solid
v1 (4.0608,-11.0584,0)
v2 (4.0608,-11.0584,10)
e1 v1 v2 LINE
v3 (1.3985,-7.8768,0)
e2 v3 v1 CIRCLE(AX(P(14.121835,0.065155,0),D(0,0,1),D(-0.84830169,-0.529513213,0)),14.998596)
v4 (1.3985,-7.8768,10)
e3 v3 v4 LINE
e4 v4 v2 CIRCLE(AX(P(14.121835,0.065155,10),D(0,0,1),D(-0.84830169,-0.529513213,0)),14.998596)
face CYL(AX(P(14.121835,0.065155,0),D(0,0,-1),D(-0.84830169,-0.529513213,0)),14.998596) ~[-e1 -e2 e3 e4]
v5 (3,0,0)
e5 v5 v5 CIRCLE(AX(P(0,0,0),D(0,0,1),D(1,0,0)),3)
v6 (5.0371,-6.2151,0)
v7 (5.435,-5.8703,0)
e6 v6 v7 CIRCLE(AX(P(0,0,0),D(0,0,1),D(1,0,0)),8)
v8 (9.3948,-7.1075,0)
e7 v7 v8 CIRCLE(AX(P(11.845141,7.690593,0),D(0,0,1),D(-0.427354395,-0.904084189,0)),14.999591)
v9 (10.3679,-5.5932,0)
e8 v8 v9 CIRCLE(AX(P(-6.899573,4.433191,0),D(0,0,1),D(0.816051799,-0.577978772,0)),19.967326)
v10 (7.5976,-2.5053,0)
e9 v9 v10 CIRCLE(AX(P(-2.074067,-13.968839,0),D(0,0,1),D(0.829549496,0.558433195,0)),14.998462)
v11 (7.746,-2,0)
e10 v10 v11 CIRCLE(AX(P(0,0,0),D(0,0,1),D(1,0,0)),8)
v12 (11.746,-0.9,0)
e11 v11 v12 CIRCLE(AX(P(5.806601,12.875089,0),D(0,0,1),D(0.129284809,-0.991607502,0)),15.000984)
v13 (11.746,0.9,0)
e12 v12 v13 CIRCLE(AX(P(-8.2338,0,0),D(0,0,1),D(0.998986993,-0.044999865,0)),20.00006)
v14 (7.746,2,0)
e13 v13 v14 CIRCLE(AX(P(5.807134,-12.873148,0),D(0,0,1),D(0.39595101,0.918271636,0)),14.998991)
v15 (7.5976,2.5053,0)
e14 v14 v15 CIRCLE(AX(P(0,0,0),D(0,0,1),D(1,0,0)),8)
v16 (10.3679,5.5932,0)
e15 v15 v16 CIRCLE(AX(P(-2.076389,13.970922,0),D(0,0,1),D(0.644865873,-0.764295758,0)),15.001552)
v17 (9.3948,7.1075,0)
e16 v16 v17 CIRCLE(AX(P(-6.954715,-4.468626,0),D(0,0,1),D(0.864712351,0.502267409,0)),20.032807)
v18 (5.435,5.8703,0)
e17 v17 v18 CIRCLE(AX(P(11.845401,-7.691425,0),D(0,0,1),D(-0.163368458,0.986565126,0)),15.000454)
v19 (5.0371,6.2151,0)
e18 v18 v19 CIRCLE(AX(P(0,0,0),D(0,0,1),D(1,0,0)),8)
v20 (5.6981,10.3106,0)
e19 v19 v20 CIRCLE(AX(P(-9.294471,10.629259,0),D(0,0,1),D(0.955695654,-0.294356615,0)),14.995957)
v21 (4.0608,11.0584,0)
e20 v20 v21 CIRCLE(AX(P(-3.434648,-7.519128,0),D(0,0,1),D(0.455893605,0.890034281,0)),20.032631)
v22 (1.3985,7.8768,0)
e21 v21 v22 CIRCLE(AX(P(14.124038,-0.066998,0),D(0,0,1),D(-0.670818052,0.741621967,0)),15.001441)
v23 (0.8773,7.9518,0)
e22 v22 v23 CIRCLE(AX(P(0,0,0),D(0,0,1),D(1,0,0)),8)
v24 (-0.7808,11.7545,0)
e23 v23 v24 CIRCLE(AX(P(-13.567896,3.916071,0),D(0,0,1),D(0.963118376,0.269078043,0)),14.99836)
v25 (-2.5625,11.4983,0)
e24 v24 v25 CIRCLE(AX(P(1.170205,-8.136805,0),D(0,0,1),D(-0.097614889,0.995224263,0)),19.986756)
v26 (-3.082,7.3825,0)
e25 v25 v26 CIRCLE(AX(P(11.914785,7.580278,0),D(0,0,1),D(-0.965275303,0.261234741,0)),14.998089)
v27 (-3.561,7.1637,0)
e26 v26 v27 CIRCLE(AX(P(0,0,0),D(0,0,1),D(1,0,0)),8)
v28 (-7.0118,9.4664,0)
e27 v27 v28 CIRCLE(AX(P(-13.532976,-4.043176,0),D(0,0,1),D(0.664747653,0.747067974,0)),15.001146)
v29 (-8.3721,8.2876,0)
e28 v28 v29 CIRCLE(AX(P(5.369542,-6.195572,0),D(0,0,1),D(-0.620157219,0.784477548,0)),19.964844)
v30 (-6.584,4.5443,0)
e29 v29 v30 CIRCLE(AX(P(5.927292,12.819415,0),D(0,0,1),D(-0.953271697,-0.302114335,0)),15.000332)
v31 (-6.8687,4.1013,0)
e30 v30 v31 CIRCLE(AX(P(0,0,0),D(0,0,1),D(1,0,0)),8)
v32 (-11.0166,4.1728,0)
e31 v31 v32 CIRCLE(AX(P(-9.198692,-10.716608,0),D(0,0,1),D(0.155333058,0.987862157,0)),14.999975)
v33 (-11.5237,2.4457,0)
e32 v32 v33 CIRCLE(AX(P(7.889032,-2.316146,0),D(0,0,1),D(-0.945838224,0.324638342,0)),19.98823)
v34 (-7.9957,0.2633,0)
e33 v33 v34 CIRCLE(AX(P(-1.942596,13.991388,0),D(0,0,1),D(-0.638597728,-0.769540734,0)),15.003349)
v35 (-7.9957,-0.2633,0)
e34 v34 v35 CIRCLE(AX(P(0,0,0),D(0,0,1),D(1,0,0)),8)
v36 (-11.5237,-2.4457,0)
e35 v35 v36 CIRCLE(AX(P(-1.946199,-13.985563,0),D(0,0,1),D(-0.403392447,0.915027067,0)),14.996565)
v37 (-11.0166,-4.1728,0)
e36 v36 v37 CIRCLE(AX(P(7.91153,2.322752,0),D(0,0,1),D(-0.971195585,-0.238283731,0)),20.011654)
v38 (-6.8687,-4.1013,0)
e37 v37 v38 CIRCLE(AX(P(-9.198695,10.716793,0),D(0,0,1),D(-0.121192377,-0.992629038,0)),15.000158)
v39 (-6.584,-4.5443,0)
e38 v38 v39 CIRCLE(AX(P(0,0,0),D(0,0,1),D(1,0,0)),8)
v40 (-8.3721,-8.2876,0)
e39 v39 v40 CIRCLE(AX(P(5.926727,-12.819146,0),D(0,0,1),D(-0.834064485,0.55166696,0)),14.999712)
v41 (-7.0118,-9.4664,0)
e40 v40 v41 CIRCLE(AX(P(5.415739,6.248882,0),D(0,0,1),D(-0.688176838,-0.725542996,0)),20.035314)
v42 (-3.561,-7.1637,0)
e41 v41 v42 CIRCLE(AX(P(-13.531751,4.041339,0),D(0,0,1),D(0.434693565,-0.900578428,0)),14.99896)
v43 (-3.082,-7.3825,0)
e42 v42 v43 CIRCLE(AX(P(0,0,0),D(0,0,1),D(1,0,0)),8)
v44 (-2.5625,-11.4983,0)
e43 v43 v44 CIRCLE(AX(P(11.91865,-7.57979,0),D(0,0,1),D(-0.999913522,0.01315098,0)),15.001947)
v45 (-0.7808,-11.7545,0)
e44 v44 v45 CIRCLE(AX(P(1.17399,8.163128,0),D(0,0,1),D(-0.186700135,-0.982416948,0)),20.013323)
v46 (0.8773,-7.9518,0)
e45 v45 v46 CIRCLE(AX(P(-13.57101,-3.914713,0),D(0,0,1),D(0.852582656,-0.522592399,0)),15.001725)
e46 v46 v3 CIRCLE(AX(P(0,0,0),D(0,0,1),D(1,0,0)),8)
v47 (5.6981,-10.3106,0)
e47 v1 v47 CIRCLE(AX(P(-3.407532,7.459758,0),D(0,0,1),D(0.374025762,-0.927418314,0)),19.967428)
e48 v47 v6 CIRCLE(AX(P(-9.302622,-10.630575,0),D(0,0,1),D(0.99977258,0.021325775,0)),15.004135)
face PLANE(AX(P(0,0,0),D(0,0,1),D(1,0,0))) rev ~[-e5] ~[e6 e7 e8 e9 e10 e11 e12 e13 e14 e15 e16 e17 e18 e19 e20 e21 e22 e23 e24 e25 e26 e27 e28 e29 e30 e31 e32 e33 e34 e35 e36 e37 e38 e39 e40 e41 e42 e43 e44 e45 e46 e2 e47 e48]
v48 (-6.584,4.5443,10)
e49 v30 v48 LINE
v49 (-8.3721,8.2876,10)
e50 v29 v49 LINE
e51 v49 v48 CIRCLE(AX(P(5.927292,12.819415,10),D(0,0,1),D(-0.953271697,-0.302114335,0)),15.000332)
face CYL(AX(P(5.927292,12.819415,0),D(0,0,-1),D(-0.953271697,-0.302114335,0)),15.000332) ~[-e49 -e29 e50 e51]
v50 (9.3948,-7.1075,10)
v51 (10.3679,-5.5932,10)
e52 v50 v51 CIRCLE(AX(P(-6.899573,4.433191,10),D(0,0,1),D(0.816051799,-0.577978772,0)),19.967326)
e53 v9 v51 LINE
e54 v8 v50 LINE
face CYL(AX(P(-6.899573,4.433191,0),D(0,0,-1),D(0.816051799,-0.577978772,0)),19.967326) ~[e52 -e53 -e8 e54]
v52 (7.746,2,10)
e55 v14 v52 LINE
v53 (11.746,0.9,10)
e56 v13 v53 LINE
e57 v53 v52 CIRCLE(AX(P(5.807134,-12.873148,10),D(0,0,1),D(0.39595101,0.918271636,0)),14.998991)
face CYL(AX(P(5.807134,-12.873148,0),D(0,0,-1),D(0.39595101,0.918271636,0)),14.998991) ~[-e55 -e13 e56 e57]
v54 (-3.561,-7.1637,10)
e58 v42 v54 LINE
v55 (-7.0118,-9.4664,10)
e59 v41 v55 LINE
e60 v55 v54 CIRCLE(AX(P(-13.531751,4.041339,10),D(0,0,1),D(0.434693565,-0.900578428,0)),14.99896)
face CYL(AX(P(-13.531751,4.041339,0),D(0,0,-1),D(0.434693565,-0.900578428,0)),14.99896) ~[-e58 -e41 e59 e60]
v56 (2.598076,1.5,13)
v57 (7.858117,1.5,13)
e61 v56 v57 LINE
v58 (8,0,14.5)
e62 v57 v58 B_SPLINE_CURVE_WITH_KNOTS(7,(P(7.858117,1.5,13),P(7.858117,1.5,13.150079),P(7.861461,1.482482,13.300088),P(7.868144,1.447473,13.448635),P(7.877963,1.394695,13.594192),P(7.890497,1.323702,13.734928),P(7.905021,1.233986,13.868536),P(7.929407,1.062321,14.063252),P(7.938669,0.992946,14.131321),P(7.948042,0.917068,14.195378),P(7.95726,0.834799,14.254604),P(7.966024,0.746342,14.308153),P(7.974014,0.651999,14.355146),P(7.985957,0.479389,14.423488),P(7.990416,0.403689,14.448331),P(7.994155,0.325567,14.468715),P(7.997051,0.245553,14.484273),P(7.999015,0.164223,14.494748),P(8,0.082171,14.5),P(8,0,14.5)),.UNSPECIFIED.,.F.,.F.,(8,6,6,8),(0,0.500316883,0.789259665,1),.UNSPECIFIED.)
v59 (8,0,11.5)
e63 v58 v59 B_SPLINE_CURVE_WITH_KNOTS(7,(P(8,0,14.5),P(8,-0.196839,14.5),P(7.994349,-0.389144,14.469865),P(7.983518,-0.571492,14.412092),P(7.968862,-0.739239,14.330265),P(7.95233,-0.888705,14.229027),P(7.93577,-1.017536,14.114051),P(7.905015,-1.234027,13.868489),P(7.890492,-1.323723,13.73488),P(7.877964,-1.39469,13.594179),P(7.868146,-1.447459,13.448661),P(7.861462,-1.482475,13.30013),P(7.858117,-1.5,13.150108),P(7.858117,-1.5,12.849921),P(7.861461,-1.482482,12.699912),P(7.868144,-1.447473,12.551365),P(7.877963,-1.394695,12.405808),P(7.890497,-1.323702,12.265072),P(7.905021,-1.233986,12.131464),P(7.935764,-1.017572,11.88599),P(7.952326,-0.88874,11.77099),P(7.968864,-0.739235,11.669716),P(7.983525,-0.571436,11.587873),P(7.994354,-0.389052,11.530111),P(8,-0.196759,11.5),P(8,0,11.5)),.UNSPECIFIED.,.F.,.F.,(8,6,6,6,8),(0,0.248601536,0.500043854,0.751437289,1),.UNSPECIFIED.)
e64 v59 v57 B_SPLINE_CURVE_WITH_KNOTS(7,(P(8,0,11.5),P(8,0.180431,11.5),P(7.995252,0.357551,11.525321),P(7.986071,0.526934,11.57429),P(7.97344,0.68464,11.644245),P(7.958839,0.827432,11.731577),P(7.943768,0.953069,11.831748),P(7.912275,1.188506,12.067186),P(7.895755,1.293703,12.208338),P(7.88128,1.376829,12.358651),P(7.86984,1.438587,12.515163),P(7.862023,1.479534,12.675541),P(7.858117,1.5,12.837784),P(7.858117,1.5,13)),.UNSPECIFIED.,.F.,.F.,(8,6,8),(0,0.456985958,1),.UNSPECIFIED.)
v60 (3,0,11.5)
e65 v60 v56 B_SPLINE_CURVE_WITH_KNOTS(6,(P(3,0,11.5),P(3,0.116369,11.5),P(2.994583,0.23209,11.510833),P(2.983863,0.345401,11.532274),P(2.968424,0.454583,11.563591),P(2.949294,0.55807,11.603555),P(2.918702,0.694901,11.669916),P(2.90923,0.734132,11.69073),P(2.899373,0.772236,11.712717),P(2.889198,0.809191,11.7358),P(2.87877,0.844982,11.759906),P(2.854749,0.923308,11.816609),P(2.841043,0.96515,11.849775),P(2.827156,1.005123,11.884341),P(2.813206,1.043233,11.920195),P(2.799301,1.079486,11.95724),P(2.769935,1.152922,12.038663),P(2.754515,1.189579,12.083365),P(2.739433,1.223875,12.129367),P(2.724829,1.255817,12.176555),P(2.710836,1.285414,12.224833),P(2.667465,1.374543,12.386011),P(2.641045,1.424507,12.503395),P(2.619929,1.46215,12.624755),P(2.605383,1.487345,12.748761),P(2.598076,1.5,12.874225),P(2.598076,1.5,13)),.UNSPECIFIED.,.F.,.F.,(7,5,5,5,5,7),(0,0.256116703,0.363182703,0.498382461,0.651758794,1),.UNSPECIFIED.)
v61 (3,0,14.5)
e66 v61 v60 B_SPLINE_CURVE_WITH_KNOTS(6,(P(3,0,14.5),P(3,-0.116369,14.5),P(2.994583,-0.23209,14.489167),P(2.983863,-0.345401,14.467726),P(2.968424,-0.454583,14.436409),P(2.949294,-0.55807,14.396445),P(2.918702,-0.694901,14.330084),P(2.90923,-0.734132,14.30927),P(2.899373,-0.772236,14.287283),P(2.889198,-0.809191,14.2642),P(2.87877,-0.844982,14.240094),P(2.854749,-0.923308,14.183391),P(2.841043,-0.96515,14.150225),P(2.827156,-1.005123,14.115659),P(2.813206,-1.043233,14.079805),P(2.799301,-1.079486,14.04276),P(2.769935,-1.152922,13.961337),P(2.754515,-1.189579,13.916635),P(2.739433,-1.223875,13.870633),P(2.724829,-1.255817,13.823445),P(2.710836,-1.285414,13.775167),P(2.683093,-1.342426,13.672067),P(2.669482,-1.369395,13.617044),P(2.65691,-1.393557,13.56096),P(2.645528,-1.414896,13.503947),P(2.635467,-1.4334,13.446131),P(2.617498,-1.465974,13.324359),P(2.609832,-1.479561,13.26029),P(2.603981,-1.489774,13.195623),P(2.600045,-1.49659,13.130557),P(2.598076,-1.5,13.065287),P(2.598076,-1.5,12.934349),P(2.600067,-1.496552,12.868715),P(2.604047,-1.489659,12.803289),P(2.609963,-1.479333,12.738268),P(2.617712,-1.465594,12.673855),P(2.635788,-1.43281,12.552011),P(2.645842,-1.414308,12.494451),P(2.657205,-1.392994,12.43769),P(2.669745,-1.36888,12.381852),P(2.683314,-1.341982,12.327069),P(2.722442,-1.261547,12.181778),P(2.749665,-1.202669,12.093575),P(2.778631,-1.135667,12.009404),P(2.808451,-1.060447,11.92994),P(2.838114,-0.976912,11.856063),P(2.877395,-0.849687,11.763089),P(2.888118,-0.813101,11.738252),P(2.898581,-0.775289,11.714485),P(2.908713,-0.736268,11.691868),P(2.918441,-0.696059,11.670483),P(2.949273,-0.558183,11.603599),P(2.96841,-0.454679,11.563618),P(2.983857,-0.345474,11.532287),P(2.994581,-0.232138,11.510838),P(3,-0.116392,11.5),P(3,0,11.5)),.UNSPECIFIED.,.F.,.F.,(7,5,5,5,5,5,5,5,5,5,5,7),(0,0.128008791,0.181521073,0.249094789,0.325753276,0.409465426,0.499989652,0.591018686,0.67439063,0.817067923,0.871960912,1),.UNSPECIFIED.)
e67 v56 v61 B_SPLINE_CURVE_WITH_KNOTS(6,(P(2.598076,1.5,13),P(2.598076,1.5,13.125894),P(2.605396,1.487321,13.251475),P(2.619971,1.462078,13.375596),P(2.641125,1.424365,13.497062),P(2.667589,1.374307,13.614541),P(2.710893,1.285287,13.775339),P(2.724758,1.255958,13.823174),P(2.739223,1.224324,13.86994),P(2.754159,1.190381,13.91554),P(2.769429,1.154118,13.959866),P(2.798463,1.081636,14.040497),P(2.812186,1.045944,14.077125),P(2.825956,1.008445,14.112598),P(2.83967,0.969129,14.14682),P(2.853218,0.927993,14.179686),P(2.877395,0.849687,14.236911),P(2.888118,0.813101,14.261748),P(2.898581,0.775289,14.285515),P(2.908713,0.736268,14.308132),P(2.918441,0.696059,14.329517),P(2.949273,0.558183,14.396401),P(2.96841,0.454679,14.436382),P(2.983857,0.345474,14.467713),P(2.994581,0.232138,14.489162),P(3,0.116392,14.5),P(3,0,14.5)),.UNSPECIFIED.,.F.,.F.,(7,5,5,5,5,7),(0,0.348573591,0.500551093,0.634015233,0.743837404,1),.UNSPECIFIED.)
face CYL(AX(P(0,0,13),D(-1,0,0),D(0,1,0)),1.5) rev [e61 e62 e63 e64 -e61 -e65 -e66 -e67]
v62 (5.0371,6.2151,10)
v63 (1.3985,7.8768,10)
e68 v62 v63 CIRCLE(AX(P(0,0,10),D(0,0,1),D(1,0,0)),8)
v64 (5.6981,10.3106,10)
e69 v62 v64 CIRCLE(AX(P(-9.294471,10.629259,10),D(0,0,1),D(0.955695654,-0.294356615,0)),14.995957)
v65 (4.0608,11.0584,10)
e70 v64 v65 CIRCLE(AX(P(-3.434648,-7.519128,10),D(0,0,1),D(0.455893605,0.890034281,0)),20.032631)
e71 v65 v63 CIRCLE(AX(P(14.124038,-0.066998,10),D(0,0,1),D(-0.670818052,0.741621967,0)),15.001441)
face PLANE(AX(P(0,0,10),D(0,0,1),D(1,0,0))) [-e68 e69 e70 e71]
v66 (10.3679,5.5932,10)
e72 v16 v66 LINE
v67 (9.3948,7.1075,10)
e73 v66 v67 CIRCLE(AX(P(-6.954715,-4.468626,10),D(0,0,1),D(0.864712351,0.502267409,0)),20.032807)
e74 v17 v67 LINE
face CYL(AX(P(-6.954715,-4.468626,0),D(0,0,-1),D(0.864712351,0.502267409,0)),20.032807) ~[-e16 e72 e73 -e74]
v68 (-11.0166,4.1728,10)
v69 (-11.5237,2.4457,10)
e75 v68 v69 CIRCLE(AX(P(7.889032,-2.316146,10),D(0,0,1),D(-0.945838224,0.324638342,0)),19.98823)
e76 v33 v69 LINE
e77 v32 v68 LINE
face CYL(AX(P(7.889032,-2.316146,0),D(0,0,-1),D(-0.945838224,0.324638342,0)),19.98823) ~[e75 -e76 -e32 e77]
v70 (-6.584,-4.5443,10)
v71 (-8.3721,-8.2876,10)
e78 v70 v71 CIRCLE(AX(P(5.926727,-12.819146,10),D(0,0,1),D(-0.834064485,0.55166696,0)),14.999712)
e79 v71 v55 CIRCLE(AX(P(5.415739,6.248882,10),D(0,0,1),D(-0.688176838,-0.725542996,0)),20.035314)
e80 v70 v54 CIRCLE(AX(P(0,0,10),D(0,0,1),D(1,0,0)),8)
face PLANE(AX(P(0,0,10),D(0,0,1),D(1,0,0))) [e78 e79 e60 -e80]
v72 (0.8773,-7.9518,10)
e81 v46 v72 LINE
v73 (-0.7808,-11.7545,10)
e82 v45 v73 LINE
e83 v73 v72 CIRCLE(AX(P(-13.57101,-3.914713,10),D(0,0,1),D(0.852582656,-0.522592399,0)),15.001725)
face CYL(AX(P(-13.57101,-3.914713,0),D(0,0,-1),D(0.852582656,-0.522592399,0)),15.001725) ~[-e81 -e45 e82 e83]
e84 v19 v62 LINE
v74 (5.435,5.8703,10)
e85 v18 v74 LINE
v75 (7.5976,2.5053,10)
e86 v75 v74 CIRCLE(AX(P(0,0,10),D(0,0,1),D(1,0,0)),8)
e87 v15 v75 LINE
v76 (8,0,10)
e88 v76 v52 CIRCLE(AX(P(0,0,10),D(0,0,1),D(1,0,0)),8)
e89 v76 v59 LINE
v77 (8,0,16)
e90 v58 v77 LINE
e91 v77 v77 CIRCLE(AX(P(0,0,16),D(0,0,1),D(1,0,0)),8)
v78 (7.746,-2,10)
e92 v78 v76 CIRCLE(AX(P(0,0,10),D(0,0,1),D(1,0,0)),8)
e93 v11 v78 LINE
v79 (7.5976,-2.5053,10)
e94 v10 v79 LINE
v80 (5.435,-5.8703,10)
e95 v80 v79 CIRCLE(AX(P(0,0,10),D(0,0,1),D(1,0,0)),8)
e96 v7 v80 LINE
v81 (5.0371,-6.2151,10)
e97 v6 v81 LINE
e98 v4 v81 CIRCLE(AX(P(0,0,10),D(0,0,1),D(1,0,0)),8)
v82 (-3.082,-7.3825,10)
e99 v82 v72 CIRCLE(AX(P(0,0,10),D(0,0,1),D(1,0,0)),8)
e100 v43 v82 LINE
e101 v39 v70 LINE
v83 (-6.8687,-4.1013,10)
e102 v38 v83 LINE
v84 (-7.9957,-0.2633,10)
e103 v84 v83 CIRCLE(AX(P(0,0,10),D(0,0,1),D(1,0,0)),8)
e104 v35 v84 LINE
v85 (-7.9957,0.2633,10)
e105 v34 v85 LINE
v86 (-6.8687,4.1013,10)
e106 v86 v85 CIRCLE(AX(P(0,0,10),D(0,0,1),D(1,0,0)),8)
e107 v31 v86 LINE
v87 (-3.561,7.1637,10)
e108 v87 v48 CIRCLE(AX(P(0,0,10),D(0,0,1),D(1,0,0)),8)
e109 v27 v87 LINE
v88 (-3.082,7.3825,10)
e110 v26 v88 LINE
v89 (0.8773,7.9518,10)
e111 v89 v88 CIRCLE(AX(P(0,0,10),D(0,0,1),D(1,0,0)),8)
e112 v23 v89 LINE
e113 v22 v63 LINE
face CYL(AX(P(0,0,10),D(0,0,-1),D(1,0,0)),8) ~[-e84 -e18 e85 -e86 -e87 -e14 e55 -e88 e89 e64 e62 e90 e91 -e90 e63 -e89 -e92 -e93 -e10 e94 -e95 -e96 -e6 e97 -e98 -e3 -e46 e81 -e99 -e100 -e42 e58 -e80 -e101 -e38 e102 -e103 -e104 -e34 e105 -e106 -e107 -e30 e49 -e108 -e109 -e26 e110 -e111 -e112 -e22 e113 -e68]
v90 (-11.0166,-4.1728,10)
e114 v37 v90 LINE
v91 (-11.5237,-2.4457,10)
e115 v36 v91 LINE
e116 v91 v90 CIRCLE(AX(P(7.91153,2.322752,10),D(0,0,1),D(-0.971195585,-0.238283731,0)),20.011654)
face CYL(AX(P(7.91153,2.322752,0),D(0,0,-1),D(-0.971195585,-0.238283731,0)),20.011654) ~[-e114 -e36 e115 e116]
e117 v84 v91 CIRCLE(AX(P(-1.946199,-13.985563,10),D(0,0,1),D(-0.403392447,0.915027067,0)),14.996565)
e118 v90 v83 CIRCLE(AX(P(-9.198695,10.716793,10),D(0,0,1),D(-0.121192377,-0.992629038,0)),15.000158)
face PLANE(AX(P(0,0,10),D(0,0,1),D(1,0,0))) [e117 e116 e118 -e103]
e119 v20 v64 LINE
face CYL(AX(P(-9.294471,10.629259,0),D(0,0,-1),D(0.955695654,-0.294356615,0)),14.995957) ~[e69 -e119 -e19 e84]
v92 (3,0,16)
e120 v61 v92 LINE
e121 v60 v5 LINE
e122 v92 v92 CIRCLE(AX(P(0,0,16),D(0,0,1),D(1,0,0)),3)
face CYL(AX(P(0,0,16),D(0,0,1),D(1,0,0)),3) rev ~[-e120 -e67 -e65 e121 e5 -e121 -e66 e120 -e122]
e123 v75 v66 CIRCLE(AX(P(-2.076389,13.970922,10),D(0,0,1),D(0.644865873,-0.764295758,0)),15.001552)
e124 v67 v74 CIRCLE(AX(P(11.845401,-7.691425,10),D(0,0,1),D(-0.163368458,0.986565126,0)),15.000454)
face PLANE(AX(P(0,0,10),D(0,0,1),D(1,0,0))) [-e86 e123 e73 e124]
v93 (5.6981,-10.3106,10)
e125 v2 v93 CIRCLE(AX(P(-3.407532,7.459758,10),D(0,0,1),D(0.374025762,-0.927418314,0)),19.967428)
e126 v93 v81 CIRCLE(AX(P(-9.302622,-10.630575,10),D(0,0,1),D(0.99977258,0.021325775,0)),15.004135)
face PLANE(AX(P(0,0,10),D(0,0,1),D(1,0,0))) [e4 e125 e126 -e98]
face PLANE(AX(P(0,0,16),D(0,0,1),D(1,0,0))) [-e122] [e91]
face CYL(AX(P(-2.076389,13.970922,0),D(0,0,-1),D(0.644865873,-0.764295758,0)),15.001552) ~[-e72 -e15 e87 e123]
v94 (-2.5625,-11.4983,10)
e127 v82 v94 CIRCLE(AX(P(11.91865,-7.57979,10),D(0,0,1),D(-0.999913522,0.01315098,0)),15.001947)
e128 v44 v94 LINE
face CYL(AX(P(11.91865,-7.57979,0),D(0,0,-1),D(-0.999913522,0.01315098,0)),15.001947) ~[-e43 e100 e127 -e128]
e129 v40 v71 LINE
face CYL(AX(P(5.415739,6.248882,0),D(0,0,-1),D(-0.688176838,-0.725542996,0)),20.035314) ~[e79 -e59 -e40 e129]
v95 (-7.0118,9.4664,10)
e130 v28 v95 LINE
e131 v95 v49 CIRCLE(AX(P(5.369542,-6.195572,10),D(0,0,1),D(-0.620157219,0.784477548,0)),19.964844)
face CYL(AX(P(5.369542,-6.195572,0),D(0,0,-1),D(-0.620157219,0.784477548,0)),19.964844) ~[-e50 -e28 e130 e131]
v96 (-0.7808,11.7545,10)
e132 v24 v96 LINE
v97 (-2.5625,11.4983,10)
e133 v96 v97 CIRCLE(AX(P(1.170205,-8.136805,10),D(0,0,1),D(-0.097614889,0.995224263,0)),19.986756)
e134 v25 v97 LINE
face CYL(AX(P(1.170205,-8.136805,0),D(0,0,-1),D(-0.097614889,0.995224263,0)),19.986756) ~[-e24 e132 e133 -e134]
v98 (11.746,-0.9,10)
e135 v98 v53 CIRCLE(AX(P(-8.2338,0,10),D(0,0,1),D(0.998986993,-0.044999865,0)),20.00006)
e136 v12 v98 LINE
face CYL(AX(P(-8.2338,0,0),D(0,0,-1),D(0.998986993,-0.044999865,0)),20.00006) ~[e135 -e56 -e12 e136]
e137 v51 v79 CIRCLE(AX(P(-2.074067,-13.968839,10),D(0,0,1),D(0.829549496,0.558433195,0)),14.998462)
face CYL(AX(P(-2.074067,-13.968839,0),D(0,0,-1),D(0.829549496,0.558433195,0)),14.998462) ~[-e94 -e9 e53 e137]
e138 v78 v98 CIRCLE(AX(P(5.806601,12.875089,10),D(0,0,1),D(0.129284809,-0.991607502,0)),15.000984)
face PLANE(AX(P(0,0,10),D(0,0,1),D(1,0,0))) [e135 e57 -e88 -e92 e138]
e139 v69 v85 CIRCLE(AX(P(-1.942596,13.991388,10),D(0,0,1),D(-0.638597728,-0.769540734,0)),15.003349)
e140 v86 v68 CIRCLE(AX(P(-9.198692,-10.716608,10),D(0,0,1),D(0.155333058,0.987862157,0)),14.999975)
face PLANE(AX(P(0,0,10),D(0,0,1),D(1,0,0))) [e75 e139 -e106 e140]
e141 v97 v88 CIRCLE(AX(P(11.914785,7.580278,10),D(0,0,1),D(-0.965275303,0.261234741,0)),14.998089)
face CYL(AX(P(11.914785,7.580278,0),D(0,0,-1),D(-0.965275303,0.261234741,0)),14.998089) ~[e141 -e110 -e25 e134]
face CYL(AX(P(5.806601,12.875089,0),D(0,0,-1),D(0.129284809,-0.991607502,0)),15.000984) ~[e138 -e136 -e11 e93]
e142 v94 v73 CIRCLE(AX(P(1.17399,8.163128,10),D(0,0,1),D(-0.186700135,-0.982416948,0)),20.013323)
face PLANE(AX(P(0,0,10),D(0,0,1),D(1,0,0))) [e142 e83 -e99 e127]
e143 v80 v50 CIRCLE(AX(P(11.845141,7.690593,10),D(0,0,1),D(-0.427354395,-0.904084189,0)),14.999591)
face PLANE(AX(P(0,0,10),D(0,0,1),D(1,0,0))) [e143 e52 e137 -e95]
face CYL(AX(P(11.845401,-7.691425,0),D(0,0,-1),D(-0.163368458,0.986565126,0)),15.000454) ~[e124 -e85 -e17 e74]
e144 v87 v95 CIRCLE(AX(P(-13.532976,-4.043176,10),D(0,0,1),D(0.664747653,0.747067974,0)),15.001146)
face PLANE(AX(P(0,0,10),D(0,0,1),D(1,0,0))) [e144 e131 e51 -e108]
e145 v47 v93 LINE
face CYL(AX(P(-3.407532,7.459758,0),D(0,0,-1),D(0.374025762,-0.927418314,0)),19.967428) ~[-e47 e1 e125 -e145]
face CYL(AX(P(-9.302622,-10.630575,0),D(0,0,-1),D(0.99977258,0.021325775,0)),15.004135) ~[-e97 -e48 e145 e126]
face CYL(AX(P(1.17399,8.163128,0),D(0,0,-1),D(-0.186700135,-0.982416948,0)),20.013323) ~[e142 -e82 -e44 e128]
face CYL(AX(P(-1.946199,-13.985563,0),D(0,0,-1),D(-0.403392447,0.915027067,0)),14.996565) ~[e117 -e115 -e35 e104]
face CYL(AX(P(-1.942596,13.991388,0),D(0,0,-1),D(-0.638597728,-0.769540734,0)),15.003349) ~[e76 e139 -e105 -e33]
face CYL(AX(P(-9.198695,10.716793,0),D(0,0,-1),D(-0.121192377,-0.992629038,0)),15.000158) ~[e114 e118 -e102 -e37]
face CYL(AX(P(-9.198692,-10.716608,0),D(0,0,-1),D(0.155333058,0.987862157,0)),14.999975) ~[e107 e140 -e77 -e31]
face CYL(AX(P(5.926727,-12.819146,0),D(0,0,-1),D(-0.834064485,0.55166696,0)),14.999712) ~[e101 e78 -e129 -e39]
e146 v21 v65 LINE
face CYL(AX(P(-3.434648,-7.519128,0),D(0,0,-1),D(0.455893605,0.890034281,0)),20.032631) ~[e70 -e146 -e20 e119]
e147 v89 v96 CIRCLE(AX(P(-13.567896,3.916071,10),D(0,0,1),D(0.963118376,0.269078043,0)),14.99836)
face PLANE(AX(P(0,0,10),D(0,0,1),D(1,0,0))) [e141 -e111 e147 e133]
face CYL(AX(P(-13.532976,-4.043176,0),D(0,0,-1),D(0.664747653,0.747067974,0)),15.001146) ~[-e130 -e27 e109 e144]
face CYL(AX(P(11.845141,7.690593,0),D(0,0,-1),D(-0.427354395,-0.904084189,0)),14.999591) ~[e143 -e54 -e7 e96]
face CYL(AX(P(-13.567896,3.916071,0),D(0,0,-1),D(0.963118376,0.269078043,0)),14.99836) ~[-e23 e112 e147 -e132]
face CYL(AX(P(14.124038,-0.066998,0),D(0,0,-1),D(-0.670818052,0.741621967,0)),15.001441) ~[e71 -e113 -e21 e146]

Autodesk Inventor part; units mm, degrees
ref_plane "YZ Plane" through (0, 0, 0) normal (1, 0, 0) x (0, 1, 0)
ref_plane "XZ Plane" through (0, 0, 0) normal (0, 1, 0) x (-1, 0, 0)
ref_plane "XY Plane" through (0, 0, 0) normal (0, 0, 1) x (1, 0, 0)
sketch "Sketch1" plane through (0, 0, 0) normal (0, 0, 1) x (1, 0, 0)
  circle A0 centre (0, 0) radius 8
  line L0 (0, 0) -> (16, 0) construction
  arc A1 (11.746, 0.9) -> (7.746, 2) centre (5.8068, -12.8741) ccw
  arc A2 (7.746, -2) -> (11.746, -0.9) centre (5.8068, 12.8741) ccw
  arc A3 (7.746, -2) -> (7.746, 2) centre (0, 0) ccw
  arc A4 (11.746, -0.9) -> (11.746, 0.9) centre (-8.2338, 0) ccw
  arc A5 (9.3948, 7.1075) -> (5.435, 5.8703) centre (11.8453, -7.691) ccw
  arc A6 (10.3679, 5.5932) -> (9.3948, 7.1075) centre (-6.9267, -4.4515) ccw
  arc A7 (7.5976, 2.5053) -> (10.3679, 5.5932) centre (-2.0753, 13.9698) ccw
  arc A8 (7.5976, 2.5053) -> (5.435, 5.8703) centre (0, 0) ccw
  arc A9 (4.0608, 11.0584) -> (1.3985, 7.8768) centre (14.123, -0.066) ccw
  arc A10 (5.6981, 10.3106) -> (4.0608, 11.0584) centre (-3.4204, -7.4897) ccw
  arc A11 (5.0371, 6.2151) -> (5.6981, 10.3106) centre (-9.2985, 10.6302) ccw
  arc A12 (5.0371, 6.2151) -> (1.3985, 7.8768) centre (0, 0) ccw
  arc A13 (-2.5625, 11.4983) -> (-3.082, 7.3825) centre (11.9167, 7.5799) ccw
  arc A14 (-0.7808, 11.7545) -> (-2.5625, 11.4983) centre (1.1718, -8.15) ccw
  arc A15 (0.8773, 7.9518) -> (-0.7808, 11.7545) centre (-13.5695, 3.9155) ccw
  arc A16 (0.8773, 7.9518) -> (-3.082, 7.3825) centre (0, 0) ccw
  arc A17 (-8.3721, 8.2876) -> (-6.584, 4.5443) centre (5.927, 12.8193) ccw
  arc A18 (-7.0118, 9.4664) -> (-8.3721, 8.2876) centre (5.392, -6.2227) ccw
  arc A19 (-3.561, 7.1637) -> (-7.0118, 9.4664) centre (-13.5323, -4.0423) ccw
  arc A20 (-3.561, 7.1637) -> (-6.584, 4.5443) centre (0, 0) ccw
  arc A21 (-11.5237, 2.4457) -> (-7.9957, 0.2633) centre (-1.9446, 13.9886) ccw
  arc A22 (-11.0166, 4.1728) -> (-11.5237, 2.4457) centre (7.9002, -2.3197) ccw
  arc A23 (-6.8687, 4.1013) -> (-11.0166, 4.1728) centre (-9.1987, -10.7167) ccw
  arc A24 (-6.8687, 4.1013) -> (-7.9957, 0.2633) centre (0, 0) ccw
  arc A25 (-11.0166, -4.1728) -> (-6.8687, -4.1013) centre (-9.1987, 10.7167) ccw
  arc A26 (-11.5237, -2.4457) -> (-11.0166, -4.1728) centre (7.9002, 2.3197) ccw
  arc A27 (-7.9957, -0.2633) -> (-11.5237, -2.4457) centre (-1.9446, -13.9886) ccw
  arc A28 (-7.9957, -0.2633) -> (-6.8687, -4.1013) centre (0, 0) ccw
  arc A29 (-7.0118, -9.4664) -> (-3.561, -7.1637) centre (-13.5323, 4.0423) ccw
  arc A30 (-8.3721, -8.2876) -> (-7.0118, -9.4664) centre (5.392, 6.2227) ccw
  arc A31 (-6.584, -4.5443) -> (-8.3721, -8.2876) centre (5.927, -12.8193) ccw
  arc A32 (-6.584, -4.5443) -> (-3.561, -7.1637) centre (0, 0) ccw
  arc A33 (-0.7808, -11.7545) -> (0.8773, -7.9518) centre (-13.5695, -3.9155) ccw
  arc A34 (-2.5625, -11.4983) -> (-0.7808, -11.7545) centre (1.1718, 8.15) ccw
  arc A35 (-3.082, -7.3825) -> (-2.5625, -11.4983) centre (11.9167, -7.5799) ccw
  arc A36 (-3.082, -7.3825) -> (0.8773, -7.9518) centre (0, 0) ccw
  arc A37 (5.6981, -10.3106) -> (5.0371, -6.2151) centre (-9.2985, -10.6302) ccw
  arc A38 (4.0608, -11.0584) -> (5.6981, -10.3106) centre (-3.4204, 7.4897) ccw
  arc A39 (1.3985, -7.8768) -> (4.0608, -11.0584) centre (14.123, 0.066) ccw
  arc A40 (1.3985, -7.8768) -> (5.0371, -6.2151) centre (0, 0) ccw
  arc A41 (10.3679, -5.5932) -> (7.5976, -2.5053) centre (-2.0753, -13.9698) ccw
  arc A42 (9.3948, -7.1075) -> (10.3679, -5.5932) centre (-6.9267, 4.4515) ccw
  arc A43 (5.435, -5.8703) -> (9.3948, -7.1075) centre (11.8453, 7.691) ccw
  arc A44 (5.435, -5.8703) -> (7.5976, -2.5053) centre (0, 0) ccw
  point P0 (11.7662, 0)
  point P1 (9.8984, 6.3613)
  point P2 (4.8879, 10.7029)
  point P3 (-1.6745, 11.6465)
  point P4 (-7.7052, 8.8923)
  point P5 (-11.2896, 3.3149)
  point P6 (-11.2896, -3.3149)
  point P7 (-7.7052, -8.8923)
  point P8 (-1.6745, -11.6465)
  point P9 (4.8879, -10.7029)
  point P10 (9.8984, -6.3613)
  dimension "d0" = 16
  dimension "d1" = 16
  dimension "d2" = 15
  dimension "d3" = 4
  dimension "d4" = 2
  dimension "d6" = 1.8
  dimension "d15" = 20
  dimension "d18" = 360
extrude "Extrusion1" add sketch "Sketch1" along normal blind 10
sketch "Sketch2" plane through (0, 0, 10) normal (0, 0, 1) x (1, 0, 0)
  circle A0 centre (0, 0) radius 3
  circle A1 centre (0, 0) radius 8
  dimension "d22" = 6
  dimension "d23" = 16
extrude "Extrusion2" add sketch "Sketch2" along normal blind 6
sketch "Sketch3" plane through (0, 0, 16) normal (0, 0, 1) x (1, 0, 0)
  circle A0 centre (0, 0) radius 3 projected
extrude "Extrusion3" cut sketch "Sketch3" against normal through all
sketch "Sketch4" plane through (0, 0, 0) normal (1, 0, 0) x (0, 1, 0)
  circle A0 centre (0, 13) radius 1.5
  line L0 (8, 16) -> (-8, 16) projected
  point P0 (0, 0)
  dimension "d28" = 3
  dimension "d29" = 3
extrude "Extrusion4" cut sketch "Sketch4" along normal through all
properties part number "Motor Gear" material "ABS Plastic"
